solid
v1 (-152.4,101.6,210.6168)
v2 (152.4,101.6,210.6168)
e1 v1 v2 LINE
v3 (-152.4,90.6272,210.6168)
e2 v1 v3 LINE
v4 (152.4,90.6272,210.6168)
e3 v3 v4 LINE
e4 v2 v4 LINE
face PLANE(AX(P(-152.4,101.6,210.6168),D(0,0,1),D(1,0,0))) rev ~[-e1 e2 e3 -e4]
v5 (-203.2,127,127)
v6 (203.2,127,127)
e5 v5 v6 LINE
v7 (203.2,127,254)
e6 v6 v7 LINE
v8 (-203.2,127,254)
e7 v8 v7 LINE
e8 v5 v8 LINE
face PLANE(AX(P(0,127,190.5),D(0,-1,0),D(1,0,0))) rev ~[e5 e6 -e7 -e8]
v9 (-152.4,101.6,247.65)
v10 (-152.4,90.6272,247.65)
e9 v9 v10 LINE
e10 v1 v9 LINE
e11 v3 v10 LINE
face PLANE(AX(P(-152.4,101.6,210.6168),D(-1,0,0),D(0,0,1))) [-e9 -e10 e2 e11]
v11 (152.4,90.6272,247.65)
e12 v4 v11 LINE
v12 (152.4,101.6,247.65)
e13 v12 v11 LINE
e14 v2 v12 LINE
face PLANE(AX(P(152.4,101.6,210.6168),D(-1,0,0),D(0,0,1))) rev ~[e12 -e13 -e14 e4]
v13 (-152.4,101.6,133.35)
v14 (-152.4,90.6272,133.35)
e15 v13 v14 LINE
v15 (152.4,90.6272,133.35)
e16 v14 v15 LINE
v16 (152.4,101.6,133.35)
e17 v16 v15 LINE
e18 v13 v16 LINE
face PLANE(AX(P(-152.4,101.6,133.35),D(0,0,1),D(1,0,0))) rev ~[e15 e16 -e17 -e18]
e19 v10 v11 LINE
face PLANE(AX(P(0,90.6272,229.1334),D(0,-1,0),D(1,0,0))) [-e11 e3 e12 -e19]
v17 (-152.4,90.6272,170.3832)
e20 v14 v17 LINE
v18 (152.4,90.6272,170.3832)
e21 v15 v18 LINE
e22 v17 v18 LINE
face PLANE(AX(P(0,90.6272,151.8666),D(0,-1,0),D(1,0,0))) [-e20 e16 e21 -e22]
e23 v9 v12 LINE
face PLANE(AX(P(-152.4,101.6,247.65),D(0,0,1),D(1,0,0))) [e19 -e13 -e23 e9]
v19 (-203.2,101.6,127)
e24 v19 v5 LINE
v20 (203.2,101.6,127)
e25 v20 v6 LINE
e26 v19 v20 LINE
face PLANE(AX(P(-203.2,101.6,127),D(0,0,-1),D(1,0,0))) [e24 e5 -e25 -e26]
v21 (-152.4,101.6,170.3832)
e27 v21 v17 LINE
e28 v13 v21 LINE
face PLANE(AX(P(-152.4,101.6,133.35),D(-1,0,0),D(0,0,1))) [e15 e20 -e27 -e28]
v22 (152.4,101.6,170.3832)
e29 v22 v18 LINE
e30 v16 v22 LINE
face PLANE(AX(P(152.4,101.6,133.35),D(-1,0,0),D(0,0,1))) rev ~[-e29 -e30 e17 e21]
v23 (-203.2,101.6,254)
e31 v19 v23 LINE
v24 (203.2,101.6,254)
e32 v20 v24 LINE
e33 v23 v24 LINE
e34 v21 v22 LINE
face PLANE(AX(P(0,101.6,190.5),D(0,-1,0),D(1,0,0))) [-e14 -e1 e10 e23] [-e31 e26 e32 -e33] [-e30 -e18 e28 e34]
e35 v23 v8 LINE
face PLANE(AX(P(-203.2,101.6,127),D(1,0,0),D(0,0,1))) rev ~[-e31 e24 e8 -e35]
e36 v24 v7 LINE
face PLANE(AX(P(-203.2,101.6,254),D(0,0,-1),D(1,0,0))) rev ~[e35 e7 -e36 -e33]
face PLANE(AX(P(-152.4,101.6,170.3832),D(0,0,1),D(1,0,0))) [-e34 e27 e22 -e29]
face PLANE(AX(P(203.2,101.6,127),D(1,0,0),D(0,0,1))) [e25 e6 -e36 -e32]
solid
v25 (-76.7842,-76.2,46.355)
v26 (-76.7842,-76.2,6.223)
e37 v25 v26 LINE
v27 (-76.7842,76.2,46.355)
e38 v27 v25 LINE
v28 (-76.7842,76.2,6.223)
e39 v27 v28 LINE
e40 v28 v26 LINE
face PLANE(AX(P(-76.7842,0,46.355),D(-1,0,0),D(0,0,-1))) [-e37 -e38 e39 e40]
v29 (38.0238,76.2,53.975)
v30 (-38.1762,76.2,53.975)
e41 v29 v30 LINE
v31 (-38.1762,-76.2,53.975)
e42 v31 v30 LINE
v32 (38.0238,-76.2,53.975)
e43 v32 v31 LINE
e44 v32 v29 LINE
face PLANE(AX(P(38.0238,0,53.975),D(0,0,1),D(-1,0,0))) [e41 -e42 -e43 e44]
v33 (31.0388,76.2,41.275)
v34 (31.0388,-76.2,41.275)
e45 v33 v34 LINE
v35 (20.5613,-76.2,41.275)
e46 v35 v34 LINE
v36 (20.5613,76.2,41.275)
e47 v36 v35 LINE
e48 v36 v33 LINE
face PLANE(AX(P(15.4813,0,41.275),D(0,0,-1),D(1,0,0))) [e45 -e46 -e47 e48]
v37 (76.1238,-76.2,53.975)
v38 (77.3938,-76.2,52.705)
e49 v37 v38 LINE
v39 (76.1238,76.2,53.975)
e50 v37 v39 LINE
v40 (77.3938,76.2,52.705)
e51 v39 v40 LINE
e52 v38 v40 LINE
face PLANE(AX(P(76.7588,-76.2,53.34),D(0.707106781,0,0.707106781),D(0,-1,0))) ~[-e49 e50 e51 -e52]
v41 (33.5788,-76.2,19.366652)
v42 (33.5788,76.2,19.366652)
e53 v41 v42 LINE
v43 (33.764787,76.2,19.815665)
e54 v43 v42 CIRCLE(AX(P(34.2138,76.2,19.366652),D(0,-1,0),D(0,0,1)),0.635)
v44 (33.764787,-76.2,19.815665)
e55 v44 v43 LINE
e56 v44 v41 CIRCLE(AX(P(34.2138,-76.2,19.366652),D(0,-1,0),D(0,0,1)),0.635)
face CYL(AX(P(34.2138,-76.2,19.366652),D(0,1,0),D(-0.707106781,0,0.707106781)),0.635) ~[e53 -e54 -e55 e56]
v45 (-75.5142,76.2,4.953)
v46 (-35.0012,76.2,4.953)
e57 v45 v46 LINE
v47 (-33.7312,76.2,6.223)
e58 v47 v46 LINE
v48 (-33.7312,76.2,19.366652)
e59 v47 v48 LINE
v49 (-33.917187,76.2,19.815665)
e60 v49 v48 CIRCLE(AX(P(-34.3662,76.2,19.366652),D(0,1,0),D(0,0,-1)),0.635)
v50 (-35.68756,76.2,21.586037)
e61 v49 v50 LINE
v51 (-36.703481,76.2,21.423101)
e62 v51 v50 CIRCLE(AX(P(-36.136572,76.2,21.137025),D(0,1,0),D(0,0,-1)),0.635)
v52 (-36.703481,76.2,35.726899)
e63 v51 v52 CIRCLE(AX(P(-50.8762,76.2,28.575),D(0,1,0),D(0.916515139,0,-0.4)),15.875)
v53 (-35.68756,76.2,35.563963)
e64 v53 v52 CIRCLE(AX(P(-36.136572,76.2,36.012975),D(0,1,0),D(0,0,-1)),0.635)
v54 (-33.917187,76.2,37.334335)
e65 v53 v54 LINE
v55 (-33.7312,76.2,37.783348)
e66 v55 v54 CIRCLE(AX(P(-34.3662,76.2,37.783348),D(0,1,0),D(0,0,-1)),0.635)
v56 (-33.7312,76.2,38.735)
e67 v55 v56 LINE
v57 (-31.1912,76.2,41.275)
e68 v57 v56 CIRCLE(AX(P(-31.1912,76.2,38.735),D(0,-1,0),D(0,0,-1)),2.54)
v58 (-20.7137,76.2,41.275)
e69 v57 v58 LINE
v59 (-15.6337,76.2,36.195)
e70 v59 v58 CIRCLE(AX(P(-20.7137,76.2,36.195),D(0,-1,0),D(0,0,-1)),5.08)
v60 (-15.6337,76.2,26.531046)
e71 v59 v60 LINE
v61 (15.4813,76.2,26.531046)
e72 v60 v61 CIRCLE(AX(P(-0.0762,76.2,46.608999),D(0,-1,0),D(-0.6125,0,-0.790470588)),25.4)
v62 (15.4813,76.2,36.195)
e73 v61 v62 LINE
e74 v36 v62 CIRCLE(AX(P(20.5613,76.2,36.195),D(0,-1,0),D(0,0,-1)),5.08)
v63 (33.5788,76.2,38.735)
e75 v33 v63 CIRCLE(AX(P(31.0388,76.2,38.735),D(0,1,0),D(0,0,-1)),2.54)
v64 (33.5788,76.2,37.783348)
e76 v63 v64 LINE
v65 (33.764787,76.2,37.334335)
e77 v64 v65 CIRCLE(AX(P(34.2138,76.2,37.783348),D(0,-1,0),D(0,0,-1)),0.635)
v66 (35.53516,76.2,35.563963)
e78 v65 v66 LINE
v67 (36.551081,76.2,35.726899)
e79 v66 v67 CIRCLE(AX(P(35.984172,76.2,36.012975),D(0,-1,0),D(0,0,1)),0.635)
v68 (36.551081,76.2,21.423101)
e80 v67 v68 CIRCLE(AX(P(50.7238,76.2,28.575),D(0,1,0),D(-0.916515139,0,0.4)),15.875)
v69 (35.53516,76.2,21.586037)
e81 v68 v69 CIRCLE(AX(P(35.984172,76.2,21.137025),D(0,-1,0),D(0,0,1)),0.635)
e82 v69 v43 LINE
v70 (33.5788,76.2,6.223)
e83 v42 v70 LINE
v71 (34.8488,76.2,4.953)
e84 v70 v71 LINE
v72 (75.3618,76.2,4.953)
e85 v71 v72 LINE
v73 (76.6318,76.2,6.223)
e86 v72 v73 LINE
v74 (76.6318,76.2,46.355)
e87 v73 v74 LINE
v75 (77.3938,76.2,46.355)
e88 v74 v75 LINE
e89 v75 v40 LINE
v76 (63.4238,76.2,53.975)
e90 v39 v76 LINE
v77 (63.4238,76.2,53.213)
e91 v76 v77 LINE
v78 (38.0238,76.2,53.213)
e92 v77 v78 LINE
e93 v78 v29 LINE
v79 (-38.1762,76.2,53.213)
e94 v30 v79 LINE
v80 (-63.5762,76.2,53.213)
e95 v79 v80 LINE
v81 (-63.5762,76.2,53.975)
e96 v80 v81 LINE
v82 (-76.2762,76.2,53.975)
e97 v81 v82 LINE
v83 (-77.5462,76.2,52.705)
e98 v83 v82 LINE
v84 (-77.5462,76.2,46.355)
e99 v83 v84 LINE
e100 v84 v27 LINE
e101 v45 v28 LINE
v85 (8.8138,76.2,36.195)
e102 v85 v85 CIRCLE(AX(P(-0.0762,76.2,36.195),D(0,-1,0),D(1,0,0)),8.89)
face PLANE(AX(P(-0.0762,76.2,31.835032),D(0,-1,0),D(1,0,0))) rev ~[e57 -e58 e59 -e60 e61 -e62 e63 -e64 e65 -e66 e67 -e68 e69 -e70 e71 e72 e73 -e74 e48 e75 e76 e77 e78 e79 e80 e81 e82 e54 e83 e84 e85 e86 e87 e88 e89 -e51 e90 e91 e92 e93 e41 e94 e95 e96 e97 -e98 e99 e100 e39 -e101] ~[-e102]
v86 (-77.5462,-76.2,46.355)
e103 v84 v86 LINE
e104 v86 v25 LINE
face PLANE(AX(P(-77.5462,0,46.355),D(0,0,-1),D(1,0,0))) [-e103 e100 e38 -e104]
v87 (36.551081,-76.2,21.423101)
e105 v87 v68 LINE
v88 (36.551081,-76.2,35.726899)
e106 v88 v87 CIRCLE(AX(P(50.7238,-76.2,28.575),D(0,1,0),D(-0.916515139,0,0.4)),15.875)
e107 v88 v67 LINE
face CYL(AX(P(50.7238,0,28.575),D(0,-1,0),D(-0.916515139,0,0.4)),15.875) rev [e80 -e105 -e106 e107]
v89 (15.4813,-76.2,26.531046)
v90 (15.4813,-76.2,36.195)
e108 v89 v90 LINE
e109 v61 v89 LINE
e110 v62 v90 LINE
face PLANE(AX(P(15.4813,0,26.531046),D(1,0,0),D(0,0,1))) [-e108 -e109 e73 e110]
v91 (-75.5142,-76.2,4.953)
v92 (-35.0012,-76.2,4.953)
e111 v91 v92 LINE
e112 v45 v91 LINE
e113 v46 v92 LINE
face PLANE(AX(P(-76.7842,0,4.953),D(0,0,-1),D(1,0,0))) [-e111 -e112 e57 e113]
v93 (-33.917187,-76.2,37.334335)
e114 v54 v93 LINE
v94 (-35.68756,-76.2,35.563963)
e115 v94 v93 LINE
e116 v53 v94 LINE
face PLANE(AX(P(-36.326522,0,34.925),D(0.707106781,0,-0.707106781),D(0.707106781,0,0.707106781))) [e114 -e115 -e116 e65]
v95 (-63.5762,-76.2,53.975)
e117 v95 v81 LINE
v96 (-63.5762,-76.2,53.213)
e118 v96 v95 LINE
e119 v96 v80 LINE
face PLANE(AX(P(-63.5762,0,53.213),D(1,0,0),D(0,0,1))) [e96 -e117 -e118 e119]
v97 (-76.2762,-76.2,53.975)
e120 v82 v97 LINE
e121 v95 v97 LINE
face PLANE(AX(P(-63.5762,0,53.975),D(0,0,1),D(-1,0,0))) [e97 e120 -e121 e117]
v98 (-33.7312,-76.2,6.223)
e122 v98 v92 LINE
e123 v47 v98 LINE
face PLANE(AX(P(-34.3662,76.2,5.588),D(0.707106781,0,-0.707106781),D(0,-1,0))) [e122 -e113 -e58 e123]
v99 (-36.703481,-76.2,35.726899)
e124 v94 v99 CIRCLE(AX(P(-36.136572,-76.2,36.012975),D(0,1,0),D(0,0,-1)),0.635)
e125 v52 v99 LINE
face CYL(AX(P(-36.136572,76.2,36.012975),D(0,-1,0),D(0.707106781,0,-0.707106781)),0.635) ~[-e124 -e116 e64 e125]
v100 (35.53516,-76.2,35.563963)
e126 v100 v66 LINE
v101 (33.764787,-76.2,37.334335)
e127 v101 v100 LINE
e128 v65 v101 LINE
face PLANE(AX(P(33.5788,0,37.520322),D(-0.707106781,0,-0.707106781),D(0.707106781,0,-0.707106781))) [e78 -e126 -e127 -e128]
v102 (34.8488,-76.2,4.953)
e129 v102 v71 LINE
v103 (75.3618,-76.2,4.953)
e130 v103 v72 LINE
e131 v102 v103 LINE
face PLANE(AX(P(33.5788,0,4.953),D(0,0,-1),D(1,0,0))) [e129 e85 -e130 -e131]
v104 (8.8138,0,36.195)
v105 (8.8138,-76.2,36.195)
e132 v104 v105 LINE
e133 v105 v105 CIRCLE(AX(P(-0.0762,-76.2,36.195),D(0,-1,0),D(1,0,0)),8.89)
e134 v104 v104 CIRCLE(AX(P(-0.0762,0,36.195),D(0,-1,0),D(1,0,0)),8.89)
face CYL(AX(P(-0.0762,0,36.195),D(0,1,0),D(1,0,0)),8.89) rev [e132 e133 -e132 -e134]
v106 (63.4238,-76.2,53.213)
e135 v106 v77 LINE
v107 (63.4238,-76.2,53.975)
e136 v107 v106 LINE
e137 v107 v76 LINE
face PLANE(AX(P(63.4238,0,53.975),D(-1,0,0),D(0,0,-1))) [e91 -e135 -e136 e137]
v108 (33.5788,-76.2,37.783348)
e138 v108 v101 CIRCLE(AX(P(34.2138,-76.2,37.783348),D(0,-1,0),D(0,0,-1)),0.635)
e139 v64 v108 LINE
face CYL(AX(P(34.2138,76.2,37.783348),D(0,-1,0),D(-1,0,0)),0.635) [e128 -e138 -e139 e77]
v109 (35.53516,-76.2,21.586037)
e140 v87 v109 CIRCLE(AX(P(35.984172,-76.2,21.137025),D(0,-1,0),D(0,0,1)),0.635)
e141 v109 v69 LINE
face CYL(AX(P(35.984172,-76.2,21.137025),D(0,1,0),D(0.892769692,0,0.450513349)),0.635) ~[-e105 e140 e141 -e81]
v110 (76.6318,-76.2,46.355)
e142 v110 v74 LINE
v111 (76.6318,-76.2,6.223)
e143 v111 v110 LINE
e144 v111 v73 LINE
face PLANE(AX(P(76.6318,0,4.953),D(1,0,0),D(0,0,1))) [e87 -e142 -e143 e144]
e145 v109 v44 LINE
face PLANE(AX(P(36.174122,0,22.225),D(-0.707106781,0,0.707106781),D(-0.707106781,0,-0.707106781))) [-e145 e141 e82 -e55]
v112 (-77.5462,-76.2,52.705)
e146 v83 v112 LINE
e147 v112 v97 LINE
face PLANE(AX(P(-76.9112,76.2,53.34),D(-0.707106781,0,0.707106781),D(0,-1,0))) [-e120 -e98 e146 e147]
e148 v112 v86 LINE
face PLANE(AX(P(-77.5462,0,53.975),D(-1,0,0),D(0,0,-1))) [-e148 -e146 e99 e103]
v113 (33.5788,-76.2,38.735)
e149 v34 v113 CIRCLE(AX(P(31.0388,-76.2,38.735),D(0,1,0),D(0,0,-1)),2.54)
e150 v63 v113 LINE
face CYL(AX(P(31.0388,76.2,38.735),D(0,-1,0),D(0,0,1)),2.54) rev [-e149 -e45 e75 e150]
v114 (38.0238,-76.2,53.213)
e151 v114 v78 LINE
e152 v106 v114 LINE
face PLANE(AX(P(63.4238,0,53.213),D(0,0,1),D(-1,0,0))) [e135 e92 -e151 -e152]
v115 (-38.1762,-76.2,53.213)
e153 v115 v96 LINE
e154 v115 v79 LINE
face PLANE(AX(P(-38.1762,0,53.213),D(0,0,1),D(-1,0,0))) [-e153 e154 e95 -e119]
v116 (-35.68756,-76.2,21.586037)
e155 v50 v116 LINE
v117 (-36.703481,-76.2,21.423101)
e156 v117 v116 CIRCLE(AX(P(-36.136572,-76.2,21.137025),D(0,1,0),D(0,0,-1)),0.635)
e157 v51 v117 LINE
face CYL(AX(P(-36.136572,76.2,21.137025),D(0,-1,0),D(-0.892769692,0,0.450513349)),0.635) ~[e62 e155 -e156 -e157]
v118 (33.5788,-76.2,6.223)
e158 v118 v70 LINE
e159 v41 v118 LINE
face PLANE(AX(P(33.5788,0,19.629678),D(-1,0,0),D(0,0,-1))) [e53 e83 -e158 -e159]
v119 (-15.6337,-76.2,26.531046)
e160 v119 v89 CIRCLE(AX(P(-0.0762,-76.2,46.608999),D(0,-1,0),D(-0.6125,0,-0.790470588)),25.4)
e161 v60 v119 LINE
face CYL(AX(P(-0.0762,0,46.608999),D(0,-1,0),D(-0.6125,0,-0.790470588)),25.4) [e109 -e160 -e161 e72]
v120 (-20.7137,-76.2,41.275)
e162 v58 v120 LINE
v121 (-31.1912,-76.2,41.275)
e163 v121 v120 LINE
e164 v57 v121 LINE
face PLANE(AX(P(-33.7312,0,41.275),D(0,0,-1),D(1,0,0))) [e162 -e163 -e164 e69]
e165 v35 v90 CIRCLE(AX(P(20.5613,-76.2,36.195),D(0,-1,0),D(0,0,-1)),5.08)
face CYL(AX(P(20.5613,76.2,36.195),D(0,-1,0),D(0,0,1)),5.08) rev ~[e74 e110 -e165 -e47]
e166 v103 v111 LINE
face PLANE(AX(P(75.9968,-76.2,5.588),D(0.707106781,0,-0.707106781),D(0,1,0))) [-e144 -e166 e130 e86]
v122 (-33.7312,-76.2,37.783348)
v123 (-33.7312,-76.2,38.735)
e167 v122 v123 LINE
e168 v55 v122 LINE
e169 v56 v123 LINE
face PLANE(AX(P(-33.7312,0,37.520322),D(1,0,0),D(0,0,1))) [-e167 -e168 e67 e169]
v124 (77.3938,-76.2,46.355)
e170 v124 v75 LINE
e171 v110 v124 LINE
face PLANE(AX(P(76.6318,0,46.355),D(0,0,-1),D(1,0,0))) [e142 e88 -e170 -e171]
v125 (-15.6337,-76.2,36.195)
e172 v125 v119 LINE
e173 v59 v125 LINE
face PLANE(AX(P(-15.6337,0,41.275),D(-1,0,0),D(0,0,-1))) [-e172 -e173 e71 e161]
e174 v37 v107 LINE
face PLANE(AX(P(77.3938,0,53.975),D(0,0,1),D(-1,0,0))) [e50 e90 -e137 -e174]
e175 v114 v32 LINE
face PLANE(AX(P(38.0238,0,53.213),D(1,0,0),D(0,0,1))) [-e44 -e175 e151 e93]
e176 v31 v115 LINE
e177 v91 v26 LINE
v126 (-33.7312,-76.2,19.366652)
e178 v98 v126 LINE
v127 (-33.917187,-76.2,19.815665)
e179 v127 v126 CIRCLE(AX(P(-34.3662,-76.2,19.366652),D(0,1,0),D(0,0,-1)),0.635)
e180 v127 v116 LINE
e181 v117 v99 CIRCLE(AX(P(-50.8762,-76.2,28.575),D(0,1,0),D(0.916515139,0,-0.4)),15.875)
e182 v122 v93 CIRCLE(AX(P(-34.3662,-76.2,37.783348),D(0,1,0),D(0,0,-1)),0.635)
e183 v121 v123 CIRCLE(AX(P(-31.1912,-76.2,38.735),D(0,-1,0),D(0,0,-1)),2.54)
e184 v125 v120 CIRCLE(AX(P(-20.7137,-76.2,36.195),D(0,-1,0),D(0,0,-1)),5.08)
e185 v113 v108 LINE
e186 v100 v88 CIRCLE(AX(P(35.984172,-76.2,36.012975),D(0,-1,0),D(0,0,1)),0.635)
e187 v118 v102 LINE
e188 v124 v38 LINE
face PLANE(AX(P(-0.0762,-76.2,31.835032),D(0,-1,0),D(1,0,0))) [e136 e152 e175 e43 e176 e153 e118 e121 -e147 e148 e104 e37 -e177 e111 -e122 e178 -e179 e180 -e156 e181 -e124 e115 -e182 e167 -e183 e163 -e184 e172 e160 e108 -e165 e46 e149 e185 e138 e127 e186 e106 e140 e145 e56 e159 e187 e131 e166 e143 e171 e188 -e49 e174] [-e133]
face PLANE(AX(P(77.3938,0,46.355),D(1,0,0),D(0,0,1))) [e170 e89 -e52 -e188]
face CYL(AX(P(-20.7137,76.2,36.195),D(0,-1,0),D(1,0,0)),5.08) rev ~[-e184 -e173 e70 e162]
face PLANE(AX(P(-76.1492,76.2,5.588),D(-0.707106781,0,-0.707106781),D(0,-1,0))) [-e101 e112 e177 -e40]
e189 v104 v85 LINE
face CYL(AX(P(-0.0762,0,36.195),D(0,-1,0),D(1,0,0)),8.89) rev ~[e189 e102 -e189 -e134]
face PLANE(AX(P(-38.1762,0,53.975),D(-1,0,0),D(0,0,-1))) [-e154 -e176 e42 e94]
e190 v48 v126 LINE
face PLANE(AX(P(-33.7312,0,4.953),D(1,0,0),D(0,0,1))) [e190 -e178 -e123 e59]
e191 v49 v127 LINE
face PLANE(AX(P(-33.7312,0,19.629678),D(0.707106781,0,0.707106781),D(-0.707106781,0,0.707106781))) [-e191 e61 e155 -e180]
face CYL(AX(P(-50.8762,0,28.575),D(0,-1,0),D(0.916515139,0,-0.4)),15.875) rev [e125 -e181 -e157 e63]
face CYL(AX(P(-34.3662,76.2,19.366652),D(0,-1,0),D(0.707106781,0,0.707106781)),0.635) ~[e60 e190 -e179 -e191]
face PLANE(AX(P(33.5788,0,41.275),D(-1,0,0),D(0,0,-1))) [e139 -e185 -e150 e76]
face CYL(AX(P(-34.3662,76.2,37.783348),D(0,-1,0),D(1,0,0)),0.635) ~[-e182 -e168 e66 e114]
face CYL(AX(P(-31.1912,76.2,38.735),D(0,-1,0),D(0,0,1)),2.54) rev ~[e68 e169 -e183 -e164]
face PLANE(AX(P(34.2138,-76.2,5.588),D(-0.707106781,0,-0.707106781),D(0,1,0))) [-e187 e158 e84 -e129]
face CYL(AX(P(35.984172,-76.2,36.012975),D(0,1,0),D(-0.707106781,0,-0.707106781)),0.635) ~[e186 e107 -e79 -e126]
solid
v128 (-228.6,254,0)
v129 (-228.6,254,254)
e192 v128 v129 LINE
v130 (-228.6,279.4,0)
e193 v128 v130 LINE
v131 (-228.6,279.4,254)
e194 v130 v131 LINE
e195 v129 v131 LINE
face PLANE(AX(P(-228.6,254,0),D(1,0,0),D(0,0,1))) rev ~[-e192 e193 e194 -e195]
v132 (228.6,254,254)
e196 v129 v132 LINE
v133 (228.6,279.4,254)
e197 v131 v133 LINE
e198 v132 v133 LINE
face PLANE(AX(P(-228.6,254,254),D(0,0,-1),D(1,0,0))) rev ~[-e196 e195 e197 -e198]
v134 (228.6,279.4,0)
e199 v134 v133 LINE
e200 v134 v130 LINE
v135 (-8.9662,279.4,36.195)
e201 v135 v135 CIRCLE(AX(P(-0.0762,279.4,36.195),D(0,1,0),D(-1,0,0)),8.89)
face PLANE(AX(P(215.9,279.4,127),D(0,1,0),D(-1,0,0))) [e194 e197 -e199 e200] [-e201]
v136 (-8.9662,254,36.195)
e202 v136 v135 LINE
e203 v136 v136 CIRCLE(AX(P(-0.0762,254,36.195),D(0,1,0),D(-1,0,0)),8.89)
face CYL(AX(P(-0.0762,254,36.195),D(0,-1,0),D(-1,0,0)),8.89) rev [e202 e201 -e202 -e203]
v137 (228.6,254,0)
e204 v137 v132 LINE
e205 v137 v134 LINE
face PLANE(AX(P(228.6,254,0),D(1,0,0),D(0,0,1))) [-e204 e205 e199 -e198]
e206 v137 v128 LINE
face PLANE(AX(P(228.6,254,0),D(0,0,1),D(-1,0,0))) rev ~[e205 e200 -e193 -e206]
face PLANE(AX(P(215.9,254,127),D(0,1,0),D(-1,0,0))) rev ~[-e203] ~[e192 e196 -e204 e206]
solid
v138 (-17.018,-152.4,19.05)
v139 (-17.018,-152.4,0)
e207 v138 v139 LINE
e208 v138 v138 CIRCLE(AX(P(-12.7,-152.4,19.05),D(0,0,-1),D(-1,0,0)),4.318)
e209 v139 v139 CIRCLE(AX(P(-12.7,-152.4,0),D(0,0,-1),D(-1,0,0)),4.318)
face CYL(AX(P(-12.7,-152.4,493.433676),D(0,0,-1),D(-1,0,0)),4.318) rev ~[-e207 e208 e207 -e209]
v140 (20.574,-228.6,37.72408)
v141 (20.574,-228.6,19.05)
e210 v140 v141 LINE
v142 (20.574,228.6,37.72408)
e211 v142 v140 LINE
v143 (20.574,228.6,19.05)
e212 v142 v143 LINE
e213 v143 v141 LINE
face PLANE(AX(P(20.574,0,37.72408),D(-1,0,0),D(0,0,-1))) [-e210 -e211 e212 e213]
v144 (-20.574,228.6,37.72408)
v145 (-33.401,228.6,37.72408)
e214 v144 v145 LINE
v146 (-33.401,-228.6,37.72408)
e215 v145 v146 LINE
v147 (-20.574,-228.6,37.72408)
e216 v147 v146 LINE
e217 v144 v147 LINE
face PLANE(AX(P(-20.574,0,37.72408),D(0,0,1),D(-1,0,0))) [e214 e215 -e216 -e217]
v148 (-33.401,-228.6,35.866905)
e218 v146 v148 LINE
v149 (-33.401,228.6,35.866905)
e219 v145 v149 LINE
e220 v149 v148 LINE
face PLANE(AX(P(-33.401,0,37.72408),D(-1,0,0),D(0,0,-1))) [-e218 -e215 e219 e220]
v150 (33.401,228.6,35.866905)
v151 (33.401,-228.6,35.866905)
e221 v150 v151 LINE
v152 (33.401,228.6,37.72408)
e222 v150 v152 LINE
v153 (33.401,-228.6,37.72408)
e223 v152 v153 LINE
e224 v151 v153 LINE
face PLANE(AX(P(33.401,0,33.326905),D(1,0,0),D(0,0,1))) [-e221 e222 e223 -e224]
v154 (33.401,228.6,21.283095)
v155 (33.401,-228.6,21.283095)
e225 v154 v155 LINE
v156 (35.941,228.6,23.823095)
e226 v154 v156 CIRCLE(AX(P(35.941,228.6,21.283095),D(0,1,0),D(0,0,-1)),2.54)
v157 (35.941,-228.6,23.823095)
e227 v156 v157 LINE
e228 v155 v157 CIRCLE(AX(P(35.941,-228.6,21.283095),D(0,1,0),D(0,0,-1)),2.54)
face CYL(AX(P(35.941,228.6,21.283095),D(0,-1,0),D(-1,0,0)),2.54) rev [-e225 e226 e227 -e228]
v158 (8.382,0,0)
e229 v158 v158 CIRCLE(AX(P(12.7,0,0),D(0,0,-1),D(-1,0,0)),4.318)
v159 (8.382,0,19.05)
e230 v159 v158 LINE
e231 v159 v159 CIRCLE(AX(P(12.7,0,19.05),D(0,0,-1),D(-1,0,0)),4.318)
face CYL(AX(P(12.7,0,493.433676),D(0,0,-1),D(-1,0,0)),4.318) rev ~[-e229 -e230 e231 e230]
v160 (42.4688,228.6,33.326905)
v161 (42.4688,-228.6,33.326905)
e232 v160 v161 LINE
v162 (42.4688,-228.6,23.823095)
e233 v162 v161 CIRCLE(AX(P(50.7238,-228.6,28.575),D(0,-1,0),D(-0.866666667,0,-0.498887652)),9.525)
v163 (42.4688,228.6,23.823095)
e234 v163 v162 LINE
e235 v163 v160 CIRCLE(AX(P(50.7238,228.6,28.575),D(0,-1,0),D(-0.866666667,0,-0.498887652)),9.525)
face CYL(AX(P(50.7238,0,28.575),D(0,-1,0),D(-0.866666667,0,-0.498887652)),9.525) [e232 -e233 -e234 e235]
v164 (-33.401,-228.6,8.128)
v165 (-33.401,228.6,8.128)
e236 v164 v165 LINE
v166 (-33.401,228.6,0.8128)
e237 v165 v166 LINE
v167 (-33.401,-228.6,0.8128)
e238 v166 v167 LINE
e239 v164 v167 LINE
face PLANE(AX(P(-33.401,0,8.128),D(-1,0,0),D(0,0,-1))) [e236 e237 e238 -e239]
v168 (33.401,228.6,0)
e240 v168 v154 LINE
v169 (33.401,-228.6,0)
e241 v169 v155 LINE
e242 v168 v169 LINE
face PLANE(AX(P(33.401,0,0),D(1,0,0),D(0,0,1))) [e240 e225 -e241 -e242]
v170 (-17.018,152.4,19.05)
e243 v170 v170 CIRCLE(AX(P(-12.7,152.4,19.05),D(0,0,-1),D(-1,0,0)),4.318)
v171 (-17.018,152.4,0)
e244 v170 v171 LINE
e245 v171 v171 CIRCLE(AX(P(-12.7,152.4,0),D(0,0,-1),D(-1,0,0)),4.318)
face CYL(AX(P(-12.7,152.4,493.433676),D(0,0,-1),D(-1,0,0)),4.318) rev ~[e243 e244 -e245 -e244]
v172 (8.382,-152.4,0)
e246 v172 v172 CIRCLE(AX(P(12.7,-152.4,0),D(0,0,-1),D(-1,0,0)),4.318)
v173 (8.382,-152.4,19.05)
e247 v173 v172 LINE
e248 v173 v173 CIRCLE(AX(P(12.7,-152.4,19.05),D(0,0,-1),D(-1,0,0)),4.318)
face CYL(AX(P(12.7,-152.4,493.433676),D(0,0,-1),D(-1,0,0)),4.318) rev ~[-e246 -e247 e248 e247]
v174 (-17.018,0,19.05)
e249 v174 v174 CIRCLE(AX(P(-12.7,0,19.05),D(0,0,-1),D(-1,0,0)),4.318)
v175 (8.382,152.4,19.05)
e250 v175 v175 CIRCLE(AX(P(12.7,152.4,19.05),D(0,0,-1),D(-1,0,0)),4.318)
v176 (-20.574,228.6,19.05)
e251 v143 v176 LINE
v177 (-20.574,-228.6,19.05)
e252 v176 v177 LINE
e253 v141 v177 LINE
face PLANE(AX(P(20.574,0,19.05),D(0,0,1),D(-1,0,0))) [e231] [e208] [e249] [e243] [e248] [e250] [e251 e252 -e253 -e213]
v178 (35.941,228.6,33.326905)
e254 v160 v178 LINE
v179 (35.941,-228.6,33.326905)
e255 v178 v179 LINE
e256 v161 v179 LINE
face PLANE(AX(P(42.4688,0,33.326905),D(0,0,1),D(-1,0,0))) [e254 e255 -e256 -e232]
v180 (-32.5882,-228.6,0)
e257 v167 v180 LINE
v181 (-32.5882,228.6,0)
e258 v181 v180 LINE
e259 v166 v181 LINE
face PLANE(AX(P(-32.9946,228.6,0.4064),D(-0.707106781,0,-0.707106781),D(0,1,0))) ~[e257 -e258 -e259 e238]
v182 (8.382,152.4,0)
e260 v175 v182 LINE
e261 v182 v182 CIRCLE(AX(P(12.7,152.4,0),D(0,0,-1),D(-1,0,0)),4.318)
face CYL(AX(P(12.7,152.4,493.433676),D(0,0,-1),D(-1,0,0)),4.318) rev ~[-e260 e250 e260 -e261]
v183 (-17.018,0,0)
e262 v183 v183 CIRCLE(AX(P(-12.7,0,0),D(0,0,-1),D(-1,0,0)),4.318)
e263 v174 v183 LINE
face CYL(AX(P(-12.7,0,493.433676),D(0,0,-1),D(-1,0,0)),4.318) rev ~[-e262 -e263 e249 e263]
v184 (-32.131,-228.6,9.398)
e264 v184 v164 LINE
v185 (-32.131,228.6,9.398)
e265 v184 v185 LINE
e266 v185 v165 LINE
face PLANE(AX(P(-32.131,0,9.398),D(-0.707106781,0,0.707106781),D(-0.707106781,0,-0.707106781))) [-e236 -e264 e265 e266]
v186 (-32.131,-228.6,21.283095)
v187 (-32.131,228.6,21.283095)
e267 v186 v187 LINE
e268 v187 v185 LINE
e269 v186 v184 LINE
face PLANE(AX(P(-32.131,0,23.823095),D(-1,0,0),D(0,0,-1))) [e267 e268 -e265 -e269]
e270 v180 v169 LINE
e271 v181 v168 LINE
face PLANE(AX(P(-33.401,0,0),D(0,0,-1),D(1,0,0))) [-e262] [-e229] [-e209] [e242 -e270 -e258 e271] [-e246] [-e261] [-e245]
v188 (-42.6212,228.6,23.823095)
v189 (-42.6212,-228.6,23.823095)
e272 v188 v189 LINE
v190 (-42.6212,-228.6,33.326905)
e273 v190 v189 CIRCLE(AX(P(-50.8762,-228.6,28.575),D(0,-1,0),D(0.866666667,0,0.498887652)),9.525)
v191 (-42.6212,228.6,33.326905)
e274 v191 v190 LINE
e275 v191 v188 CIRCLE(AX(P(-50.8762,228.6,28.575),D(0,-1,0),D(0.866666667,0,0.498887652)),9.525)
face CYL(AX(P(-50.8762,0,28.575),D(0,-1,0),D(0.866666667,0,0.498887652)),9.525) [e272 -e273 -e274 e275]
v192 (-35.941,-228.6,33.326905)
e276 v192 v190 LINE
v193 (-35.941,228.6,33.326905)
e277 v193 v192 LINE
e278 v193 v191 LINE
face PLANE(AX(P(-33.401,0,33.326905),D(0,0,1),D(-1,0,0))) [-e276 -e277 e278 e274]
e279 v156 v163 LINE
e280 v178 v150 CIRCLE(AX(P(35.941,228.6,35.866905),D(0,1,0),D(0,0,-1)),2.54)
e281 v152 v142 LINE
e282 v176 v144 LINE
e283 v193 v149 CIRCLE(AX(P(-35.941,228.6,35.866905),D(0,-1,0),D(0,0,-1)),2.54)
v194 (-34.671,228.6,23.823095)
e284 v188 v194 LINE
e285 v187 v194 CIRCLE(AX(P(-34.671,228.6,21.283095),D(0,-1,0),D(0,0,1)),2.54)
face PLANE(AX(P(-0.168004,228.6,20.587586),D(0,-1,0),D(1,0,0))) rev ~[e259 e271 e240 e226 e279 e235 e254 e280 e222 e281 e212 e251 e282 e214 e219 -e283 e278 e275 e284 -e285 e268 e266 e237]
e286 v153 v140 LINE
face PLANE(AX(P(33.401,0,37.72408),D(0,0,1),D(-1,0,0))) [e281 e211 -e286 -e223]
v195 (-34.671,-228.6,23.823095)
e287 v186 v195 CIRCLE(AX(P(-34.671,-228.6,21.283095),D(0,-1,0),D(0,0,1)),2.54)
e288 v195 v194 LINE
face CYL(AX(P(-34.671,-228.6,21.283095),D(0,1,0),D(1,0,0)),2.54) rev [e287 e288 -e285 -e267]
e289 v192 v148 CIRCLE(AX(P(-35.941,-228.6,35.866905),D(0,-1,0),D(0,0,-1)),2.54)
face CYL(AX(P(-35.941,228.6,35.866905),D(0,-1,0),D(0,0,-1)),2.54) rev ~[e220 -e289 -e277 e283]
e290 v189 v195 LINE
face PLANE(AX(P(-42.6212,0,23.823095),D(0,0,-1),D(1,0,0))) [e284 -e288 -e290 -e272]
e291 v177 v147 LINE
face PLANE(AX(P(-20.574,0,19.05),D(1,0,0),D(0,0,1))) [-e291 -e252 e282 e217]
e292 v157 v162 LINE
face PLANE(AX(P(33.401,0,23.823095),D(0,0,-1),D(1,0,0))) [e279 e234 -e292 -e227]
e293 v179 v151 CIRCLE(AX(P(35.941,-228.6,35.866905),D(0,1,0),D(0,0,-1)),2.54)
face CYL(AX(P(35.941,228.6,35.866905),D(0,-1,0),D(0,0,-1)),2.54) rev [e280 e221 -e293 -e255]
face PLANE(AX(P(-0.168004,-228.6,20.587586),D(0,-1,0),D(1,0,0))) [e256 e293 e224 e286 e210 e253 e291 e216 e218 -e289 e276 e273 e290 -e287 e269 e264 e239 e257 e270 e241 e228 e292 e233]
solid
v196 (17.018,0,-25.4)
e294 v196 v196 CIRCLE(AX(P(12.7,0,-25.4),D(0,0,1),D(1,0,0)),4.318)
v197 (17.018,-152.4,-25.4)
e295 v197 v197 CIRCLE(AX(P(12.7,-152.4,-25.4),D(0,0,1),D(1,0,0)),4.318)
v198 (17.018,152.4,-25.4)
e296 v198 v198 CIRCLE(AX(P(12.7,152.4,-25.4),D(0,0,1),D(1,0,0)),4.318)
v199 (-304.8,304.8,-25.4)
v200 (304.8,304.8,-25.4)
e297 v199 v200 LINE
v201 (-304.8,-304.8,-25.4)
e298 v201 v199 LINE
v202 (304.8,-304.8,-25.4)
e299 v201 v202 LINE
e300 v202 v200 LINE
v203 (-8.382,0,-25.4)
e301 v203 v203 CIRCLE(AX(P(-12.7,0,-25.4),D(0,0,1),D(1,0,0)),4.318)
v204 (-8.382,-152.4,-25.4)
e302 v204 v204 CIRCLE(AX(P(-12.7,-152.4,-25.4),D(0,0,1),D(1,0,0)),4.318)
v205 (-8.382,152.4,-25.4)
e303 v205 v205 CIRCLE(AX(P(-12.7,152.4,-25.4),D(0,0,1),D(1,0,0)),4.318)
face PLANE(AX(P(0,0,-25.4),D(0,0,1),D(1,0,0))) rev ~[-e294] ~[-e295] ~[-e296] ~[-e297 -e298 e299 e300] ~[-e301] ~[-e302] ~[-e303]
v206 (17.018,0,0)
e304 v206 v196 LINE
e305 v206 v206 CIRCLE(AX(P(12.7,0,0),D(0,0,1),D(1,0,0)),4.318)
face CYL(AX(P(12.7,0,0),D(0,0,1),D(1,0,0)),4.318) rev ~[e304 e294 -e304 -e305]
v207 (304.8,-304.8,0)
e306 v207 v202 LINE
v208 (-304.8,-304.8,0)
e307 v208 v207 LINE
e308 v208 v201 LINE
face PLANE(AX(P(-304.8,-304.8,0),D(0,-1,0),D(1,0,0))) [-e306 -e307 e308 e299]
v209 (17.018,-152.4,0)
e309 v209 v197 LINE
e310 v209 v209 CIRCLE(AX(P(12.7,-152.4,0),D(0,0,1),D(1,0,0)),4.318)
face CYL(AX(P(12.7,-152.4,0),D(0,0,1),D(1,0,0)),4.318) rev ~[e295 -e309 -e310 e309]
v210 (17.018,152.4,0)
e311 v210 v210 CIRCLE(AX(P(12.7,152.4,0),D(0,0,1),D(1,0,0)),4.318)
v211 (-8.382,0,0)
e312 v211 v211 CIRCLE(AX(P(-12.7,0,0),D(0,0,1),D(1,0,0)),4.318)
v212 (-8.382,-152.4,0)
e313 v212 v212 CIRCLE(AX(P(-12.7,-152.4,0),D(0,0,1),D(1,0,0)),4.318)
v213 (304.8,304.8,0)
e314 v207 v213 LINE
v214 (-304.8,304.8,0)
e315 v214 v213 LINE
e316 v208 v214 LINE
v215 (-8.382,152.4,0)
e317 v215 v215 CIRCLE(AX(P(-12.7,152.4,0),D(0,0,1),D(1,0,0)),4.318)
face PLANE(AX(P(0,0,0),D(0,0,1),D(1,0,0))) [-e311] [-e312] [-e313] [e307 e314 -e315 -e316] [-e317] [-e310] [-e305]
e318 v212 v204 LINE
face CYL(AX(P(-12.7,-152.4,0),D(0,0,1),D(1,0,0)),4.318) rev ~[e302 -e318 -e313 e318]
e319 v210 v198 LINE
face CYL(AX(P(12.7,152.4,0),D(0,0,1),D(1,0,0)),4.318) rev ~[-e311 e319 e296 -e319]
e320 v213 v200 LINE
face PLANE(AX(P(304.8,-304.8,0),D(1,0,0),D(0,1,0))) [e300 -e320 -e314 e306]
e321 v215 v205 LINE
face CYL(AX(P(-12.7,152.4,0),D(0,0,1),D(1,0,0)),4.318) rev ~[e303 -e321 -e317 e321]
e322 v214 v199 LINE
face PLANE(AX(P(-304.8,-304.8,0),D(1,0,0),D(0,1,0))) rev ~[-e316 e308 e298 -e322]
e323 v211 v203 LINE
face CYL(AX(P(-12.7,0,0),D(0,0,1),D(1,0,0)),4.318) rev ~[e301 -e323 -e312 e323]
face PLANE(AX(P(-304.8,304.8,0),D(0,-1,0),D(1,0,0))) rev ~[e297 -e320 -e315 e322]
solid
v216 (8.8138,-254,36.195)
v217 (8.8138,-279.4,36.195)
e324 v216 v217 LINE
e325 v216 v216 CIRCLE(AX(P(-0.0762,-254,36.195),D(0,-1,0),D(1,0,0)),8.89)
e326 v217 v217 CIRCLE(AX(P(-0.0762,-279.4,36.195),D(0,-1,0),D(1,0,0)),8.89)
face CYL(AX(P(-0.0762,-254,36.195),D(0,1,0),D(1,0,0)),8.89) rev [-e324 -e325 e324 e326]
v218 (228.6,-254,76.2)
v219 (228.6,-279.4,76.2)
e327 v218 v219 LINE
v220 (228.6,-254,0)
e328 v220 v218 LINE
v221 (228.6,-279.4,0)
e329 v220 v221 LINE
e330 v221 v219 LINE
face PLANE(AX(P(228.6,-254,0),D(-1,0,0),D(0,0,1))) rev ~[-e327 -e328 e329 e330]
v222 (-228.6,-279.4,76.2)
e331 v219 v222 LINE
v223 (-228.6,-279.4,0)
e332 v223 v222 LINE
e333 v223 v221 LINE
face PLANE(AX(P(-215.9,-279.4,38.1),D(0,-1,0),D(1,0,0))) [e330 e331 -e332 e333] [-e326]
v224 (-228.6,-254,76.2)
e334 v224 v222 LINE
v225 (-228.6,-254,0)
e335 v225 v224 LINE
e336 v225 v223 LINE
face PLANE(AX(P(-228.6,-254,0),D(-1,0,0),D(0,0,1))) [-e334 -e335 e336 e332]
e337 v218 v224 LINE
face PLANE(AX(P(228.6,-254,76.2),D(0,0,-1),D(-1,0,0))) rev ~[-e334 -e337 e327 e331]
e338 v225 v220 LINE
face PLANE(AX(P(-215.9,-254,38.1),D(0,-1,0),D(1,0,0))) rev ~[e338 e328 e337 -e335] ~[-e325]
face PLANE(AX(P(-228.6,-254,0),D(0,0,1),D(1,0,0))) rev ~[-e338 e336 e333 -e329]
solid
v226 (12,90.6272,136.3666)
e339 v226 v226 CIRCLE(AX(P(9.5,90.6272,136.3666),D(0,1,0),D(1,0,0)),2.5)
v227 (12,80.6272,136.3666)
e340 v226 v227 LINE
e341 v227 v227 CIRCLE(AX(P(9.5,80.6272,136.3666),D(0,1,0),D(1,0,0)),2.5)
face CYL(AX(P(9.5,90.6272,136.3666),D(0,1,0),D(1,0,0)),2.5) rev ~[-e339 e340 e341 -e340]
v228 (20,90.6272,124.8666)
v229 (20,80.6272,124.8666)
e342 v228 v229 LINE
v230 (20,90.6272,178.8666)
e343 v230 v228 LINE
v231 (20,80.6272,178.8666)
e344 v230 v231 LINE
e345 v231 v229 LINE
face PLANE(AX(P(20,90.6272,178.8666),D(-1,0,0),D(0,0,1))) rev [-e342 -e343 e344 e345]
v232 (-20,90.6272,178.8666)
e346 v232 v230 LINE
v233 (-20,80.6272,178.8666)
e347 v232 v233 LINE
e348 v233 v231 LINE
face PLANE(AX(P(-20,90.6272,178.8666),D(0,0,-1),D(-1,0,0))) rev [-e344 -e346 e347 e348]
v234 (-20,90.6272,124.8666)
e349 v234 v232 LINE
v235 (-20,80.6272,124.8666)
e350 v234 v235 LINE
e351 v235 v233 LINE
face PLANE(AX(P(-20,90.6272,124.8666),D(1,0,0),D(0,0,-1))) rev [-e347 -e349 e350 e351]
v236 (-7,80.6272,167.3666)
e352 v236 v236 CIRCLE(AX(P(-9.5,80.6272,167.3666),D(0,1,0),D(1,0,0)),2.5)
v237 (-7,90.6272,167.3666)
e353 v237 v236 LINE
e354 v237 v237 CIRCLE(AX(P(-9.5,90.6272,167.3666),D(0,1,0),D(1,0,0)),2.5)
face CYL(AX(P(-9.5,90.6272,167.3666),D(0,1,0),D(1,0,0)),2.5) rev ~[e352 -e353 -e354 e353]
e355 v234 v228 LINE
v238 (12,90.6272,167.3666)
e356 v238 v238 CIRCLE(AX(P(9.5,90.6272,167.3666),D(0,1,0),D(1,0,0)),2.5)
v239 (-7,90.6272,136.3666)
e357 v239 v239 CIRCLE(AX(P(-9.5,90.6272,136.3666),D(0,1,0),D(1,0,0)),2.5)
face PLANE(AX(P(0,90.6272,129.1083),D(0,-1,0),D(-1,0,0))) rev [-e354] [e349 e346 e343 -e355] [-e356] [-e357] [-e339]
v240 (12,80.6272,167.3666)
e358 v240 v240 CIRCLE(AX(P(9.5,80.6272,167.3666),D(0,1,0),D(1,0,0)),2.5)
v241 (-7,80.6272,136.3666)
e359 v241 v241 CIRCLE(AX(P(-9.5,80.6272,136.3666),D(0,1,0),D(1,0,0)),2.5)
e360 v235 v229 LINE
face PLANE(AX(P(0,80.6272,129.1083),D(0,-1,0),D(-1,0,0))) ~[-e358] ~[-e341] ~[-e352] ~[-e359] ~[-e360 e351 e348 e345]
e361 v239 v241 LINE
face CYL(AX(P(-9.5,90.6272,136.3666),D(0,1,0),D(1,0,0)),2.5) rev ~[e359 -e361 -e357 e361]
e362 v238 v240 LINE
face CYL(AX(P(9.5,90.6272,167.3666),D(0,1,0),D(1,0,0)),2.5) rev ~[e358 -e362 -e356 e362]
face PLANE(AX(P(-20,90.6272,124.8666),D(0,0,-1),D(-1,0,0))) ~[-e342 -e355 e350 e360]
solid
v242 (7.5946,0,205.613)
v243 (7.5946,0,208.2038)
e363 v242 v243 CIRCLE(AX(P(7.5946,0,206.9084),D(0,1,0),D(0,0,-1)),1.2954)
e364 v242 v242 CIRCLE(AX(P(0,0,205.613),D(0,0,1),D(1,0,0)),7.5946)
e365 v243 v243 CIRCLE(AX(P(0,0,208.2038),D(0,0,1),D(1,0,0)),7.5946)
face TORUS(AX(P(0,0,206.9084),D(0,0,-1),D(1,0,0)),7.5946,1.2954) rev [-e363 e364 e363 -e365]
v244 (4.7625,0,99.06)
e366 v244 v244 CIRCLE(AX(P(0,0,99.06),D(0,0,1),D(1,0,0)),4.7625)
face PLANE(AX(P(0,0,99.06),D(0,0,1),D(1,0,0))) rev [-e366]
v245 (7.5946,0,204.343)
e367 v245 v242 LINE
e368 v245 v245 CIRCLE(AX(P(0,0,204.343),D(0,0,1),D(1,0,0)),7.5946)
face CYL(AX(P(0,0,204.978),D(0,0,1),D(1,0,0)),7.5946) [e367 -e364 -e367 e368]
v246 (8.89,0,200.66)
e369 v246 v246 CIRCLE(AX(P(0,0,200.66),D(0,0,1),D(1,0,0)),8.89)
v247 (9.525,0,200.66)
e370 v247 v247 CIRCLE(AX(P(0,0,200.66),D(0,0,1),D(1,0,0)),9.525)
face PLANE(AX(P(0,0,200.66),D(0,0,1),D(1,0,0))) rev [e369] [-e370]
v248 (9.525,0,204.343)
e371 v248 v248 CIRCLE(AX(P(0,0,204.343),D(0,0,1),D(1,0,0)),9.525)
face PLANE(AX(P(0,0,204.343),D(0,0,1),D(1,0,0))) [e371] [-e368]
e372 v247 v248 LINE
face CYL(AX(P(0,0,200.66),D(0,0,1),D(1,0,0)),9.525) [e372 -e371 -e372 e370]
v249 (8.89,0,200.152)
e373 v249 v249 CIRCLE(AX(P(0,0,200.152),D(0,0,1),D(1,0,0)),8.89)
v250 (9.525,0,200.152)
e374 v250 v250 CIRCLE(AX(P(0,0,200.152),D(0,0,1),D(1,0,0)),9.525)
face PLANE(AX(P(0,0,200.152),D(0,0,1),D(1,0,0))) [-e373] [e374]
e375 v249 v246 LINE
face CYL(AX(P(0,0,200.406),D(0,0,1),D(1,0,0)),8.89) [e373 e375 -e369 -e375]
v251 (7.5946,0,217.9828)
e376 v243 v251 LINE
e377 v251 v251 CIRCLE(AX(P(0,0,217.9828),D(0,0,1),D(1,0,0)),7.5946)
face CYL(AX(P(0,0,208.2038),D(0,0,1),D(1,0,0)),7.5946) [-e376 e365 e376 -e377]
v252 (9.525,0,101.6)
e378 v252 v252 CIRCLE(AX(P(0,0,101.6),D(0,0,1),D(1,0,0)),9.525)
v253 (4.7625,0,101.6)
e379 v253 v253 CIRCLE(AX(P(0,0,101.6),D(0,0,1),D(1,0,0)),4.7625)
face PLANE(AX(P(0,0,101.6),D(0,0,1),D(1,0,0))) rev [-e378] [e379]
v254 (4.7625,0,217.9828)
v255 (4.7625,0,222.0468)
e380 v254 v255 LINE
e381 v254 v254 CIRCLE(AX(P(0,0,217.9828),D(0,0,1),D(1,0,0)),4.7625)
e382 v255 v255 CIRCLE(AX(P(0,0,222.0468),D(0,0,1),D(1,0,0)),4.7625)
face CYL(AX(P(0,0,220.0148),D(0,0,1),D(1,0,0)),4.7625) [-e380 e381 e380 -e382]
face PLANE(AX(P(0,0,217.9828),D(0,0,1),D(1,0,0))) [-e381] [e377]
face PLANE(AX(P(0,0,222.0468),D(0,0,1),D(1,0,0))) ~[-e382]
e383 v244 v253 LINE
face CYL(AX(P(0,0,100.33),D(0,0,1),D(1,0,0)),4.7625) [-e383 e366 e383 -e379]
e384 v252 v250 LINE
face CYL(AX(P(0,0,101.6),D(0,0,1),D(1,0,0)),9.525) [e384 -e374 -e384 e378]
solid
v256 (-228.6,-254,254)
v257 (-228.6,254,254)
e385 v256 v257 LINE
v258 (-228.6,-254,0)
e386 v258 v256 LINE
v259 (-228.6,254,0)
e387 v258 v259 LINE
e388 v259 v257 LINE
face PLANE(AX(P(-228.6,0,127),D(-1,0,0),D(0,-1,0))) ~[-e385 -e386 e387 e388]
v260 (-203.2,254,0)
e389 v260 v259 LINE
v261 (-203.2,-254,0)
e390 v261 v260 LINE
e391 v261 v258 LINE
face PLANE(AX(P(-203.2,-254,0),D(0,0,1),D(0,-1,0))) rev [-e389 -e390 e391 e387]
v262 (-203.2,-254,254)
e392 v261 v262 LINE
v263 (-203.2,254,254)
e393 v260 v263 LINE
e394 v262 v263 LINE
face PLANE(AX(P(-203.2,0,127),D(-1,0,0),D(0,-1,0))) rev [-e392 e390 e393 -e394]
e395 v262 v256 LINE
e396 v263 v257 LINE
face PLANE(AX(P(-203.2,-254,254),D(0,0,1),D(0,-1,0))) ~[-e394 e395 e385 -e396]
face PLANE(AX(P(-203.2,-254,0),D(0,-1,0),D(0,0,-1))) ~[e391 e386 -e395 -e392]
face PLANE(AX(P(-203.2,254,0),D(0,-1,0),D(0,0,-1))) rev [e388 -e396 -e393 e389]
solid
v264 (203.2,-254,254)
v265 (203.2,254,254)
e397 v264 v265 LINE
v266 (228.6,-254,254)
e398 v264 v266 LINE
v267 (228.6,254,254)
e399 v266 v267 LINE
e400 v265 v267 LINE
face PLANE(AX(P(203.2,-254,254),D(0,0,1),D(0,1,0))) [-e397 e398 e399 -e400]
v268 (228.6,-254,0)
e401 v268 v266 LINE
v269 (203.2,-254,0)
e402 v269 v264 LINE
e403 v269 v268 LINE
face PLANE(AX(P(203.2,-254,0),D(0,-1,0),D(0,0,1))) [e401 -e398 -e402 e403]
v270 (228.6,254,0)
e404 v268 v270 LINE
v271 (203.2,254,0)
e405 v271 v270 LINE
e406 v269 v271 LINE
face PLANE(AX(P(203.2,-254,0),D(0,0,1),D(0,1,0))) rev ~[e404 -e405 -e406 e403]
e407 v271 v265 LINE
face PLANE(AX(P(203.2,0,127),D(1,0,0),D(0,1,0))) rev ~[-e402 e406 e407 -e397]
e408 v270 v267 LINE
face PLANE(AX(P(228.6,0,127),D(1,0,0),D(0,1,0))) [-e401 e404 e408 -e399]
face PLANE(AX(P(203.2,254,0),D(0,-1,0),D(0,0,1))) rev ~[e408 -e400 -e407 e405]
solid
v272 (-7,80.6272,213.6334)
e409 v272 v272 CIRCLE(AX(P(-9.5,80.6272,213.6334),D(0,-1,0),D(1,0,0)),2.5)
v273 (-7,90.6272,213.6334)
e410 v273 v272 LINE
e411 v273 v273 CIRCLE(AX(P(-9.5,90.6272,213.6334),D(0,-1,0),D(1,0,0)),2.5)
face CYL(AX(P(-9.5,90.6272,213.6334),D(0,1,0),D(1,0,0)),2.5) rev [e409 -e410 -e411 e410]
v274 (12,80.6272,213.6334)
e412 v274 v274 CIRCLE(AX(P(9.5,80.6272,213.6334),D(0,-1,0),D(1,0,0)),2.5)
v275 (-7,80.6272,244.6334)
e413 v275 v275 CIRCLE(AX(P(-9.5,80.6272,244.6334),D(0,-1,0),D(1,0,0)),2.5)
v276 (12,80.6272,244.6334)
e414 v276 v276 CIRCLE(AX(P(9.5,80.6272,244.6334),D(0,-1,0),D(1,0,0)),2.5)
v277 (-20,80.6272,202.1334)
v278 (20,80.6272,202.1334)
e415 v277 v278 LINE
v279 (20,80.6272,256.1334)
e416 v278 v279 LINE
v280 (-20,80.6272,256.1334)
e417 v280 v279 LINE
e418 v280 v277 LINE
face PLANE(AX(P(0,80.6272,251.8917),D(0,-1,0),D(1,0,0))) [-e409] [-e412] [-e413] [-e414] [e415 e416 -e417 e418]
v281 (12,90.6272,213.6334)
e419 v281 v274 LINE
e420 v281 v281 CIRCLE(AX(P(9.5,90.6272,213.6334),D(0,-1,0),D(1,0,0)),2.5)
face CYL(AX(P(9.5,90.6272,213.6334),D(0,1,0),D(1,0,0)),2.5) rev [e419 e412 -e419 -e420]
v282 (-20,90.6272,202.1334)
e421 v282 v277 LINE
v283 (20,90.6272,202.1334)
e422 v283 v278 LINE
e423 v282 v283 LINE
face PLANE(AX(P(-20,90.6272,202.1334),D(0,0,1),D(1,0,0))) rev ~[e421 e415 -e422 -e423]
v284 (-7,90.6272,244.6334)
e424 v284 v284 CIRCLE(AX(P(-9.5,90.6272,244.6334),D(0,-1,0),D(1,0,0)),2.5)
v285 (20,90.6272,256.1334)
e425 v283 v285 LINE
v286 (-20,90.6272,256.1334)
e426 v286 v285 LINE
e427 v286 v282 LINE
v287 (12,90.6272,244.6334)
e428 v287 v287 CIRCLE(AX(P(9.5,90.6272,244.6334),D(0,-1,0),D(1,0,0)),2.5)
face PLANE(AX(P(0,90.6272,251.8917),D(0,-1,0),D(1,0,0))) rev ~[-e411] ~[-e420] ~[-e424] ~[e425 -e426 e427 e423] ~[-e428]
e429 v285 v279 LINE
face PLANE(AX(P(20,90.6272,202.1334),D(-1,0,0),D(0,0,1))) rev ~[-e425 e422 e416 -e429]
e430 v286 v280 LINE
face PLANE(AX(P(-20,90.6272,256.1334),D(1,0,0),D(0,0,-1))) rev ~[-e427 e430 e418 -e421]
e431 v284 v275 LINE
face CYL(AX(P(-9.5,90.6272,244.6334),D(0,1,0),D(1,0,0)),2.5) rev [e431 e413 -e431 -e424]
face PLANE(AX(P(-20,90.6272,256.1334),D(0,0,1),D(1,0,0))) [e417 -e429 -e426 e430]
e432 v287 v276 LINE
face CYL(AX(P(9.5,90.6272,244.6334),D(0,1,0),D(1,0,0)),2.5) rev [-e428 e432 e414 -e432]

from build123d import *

# Parameters (mm, degrees)
F1_DEPTH      = 228.6
F1_DEPTH_BACK = 228.6
F2_SIZE       = 0.8128
F3_R          = 2.54
F5_D          = 8.636
F6_R          = 8.89
F7_DEPTH      = 76.2
F7_DEPTH_BACK = 76.2
F8_R          = 5.08
F9_R          = 2.54
F10_R         = 0.635
F11_SIZE      = 1.27
F12_W         = 609.6
F12_H         = 609.6
F12_R         = 4.318
F13_DEPTH     = 25.4
F15_W         = 508
F15_H         = 254
F16_DEPTH     = 25.4
F18_W         = 25.4
F18_H         = 76.2
F18_W_2       = 431.8
F18_R         = 8.89
F19_DEPTH     = 25.4
F20_W         = 25.4
F20_H         = 254
F20_W_2       = 431.8
F20_R         = 8.89
F21_DEPTH     = 25.4
F22_W         = 4.7625
F22_H         = 2.54
F22_W_2       = 8.89
F22_H_2       = 0.508
F22_W_3       = 7.5946
F22_H_3       = 1.27
F22_H_4       = 4.064
F25_W         = 406.4
F25_H         = 127
F25_W_2       = 304.8
F25_H_2       = 37.0332
F26_DEPTH     = 25.4
F27_DEPTH     = 10.9728
F28_W         = 40
F28_H         = 8.4834
F28_H_2       = 37.0332
F28_R         = 2.5
F29_DEPTH     = 10


with BuildPart() as f1:
    # F0 (on Front) → F1 (new body, two sides)
    with BuildSketch(Plane.XZ) as f1_sk:
        with BuildLine():
            Line((-33.401, 8.128), (-33.401, 0))
            Line((-33.401, 0), (33.401, 0))
            Line((33.401, 0), (33.401, 23.8230951188))
            Line((33.401, 23.8230951188), (42.4688, 23.8230951188))
            ThreePointArc((42.4688, 23.8230951188), (60.2488, 28.575), (42.4688, 33.3269048812))
            Line((42.4688, 33.3269048812), (33.401, 33.3269048812))
            Line((33.401, 33.3269048812), (33.401, 37.72408))
            Line((33.401, 37.72408), (20.574, 37.72408))
            Line((20.574, 37.72408), (20.574, 19.05))
            Line((20.574, 19.05), (-20.574, 19.05))
            Line((-20.574, 19.05), (-20.574, 37.72408))
            Line((-20.574, 37.72408), (-33.401, 37.72408))
            Line((-33.401, 37.72408), (-33.401, 33.3269048812))
            Line((-33.401, 33.3269048812), (-42.6212, 33.3269048812))
            ThreePointArc((-42.6212, 33.3269048812), (-60.4012, 28.575), (-42.6212, 23.8230951188))
            Line((-42.6212, 23.8230951188), (-32.131, 23.8230951188))
            Line((-32.131, 23.8230951188), (-32.131, 9.398))
            Line((-32.131, 9.398), (-33.401, 8.128))
        make_face()
    extrude(amount=F1_DEPTH)
    extrude(f1_sk.sketch, amount=-F1_DEPTH_BACK)

    # F2
    f2_edges = [f1.edges().sort_by_distance(p)[0] for p in [
        (-33.401, 0, 0),
    ]]
    chamfer(f2_edges, length=F2_SIZE)

    # F3
    f3_edges = [f1.edges().sort_by_distance(p)[0] for p in [
        (-32.131, 0, 23.823095),
        (-33.401, 0, 33.326905),
        (33.401, 0, 33.326905),
        (33.401, 0, 23.823095),
    ]]
    fillet(f3_edges, radius=F3_R)

    # F5 (through all)
    with Locations(Plane.XY.offset(19.05)):
        with Locations((-12.7, -152.4), (12.7, -152.4), (-12.7, 0), (12.7, 0), (-12.7, 152.4), (12.7, 152.4)):
            Hole(F5_D / 2)


with BuildPart() as f7:
    # F6 (on Front) → F7 (new body, two sides)
    with BuildSketch(Plane.XZ) as f7_sk:
        with BuildLine():
            Line((-63.5762, 53.975), (-77.5462, 53.975))
            Line((-77.5462, 53.975), (-77.5462, 46.355))
            Line((-77.5462, 46.355), (-76.7842, 46.355))
            Line((-76.7842, 46.355), (-76.7842, 4.953))
            Line((-76.7842, 4.953), (-33.7312, 4.953))
            Line((-33.7312, 4.953), (-33.7312, 19.6296778315))
            Line((-33.7312, 19.6296778315), (-36.3265221685, 22.225))
            ThreePointArc((-36.3265221685, 22.225), (-66.7512, 28.575), (-36.3265221685, 34.925))
            Line((-36.3265221685, 34.925), (-33.7312, 37.5203221685))
            Line((-33.7312, 37.5203221685), (-33.7312, 41.275))
            Line((-33.7312, 41.275), (-15.6337, 41.275))
            Line((-15.6337, 41.275), (-15.6337, 26.5310464443))
            ThreePointArc((-15.6337, 26.5310464443), (-0.0762, 21.2089993715), (15.4813, 26.5310464443))
            Line((15.4813, 26.5310464443), (15.4813, 41.275))
            Line((15.4813, 41.275), (33.5788, 41.275))
            Line((33.5788, 41.275), (33.5788, 37.5203221685))
            Line((33.5788, 37.5203221685), (36.1741221685, 34.925))
            ThreePointArc((36.1741221685, 34.925), (66.5988, 28.575), (36.1741221685, 22.225))
            Line((36.1741221685, 22.225), (33.5788, 19.6296778315))
            Line((33.5788, 19.6296778315), (33.5788, 4.953))
            Line((33.5788, 4.953), (76.6318, 4.953))
            Line((76.6318, 4.953), (76.6318, 46.355))
            Line((76.6318, 46.355), (77.3938, 46.355))
            Line((77.3938, 46.355), (77.3938, 53.975))
            Line((77.3938, 53.975), (63.4238, 53.975))
            Line((63.4238, 53.975), (63.4238, 53.213))
            Line((63.4238, 53.213), (38.0238, 53.213))
            Line((38.0238, 53.213), (38.0238, 53.975))
            Line((38.0238, 53.975), (-38.1762, 53.975))
            Line((-38.1762, 53.975), (-38.1762, 53.213))
            Line((-38.1762, 53.213), (-63.5762, 53.213))
            Line((-63.5762, 53.213), (-63.5762, 53.975))
        make_face()
        with Locations((-0.0762, 36.195)):
            Circle(F6_R, mode=Mode.SUBTRACT)
    extrude(amount=F7_DEPTH)
    extrude(f7_sk.sketch, amount=-F7_DEPTH_BACK)

    # F8
    f8_edges = [f7.edges().sort_by_distance(p)[0] for p in [
        (-15.6337, 0, 41.275),
        (15.4813, 0, 41.275),
    ]]
    fillet(f8_edges, radius=F8_R)

    # F9
    f9_edges = [f7.edges().sort_by_distance(p)[0] for p in [
        (-33.7312, 0, 41.275),
        (33.5788, 0, 41.275),
    ]]
    fillet(f9_edges, radius=F9_R)

    # F10
    f10_edges = [f7.edges().sort_by_distance(p)[0] for p in [
        (-36.326522, 0, 34.925),
        (-36.326522, 0, 22.225),
        (36.174122, 0, 34.925),
        (36.174122, 0, 22.225),
        (-33.7312, 0, 37.520322),
        (-33.7312, 0, 19.629678),
        (33.5788, 0, 37.520322),
        (33.5788, 0, 19.629678),
    ]]
    fillet(f10_edges, radius=F10_R)

    # F11
    f11_edges = [f7.edges().sort_by_distance(p)[0] for p in [
        (-76.7842, 0, 4.953),
        (-33.7312, 0, 4.953),
        (33.5788, 0, 4.953),
        (76.6318, 0, 4.953),
        (-77.5462, 0, 53.975),
        (77.3938, 0, 53.975),
    ]]
    chamfer(f11_edges, length=F11_SIZE)


with BuildPart() as f13:
    # F12 (on Top) → F13 (new body)
    with BuildSketch(Plane.XY):
        Rectangle(F12_W, F12_H)
        with Locations((-12.7, -152.4)):
            Circle(F12_R, mode=Mode.SUBTRACT)
        with Locations((12.7, -152.4)):
            Circle(F12_R, mode=Mode.SUBTRACT)
        with Locations((-12.7, 0)):
            Circle(F12_R, mode=Mode.SUBTRACT)
        with Locations((-12.7, 152.4)):
            Circle(F12_R, mode=Mode.SUBTRACT)
        with Locations((12.7, 0)):
            Circle(F12_R, mode=Mode.SUBTRACT)
        with Locations((12.7, 152.4)):
            Circle(F12_R, mode=Mode.SUBTRACT)
    extrude(amount=-F13_DEPTH)


with BuildPart() as f16:
    # F15 (on offset) → F16 (new body)
    with BuildSketch(Plane.YZ.offset(203.2)):
        with Locations((0, 127)):
            Rectangle(F15_W, F15_H)
    extrude(amount=F16_DEPTH)


with BuildPart() as f17_1:
    # F17: instance of F16
    add(f16.part.mirror(Plane.YZ))


with BuildPart() as f19:
    # F18 (on face) → F19 (new body)
    with BuildSketch(Plane.XZ.offset(254)):
        with Locations((-215.9, 38.1)):
            Rectangle(F18_W, F18_H)
        with Locations((12.7, 38.1)):
            Rectangle(F18_W_2, F18_H)
        with Locations((-0.0762, 36.195)):
            Circle(F18_R, mode=Mode.SUBTRACT)
    extrude(amount=F19_DEPTH)


with BuildPart() as f21:
    # F20 (on face) → F21 (new body)
    with BuildSketch(Plane(origin=(0, 254, 0), x_dir=(-1, 0, 0), z_dir=(0, 1, 0))):
        with Locations((-215.9, 127)):
            Rectangle(F20_W, F20_H)
        with Locations((12.7, 127)):
            Rectangle(F20_W_2, F20_H)
        with Locations((0.0762, 36.195)):
            Circle(F20_R, mode=Mode.SUBTRACT)
    extrude(amount=F21_DEPTH)


with BuildPart() as f23:
    # F22 (on Front) → F23 (revolve)
    with BuildSketch(Plane.XZ):
        with Locations((2.38125, 100.33)):
            Rectangle(F22_W, F22_H)
        Polygon((4.7625, 101.6), (9.525, 101.6), (9.525, 200.152), (8.89, 200.152), (0, 200.152), (0, 101.6), align=None)
        with Locations((4.445, 200.406)):
            Rectangle(F22_W_2, F22_H_2)
        Polygon((0, 200.66), (8.89, 200.66), (9.525, 200.66), (9.525, 204.343), (7.5946, 204.343), (0, 204.343), align=None)
        with Locations((3.7973, 204.978)):
            Rectangle(F22_W_3, F22_H_3)
        with BuildLine():
            Line((0, 208.2038), (0, 205.613))
            Line((0, 205.613), (7.5946, 205.613))
            ThreePointArc((7.5946, 205.613), (6.2992, 206.9084), (7.5946, 208.2038))
            Line((7.5946, 208.2038), (0, 208.2038))
        make_face()
        Polygon((0, 217.9828), (0, 208.2038), (7.5946, 208.2038), (7.5946, 217.9828), (4.7625, 217.9828), align=None)
        with Locations((2.38125, 220.0148)):
            Rectangle(F22_W, F22_H_4)
    revolve(axis=Axis((0, 0, 160.5534), (0, 0, 1)))


with BuildPart() as f26:
    # F25 (on offset) → F26 (new body)
    with BuildSketch(Plane.XZ.offset(-101.6)):
        with Locations((0, 190.5)):
            Rectangle(F25_W, F25_H)
        with Locations((0, 151.8666)):
            Rectangle(F25_W_2, F25_H_2, mode=Mode.SUBTRACT)
        with Locations((0, 229.1334)):
            Rectangle(F25_W_2, F25_H_2, mode=Mode.SUBTRACT)
        with Locations((0, 229.1334)):
            Rectangle(F25_W_2, F25_H_2)
        with Locations((0, 151.8666)):
            Rectangle(F25_W_2, F25_H_2)
    extrude(amount=-F26_DEPTH)

    # F25 (on offset) → F27 (join)
    with BuildSketch(Plane.XZ.offset(-101.6)):
        with Locations((0, 229.1334)):
            Rectangle(F25_W_2, F25_H_2)
        with Locations((0, 151.8666)):
            Rectangle(F25_W_2, F25_H_2)
    extrude(amount=F27_DEPTH)


with BuildPart() as f29:
    # F28 (on face) → F29 (new body)
    with BuildSketch(Plane.XZ.offset(-90.6272)):
        with Locations((0, 251.8917)):
            Rectangle(F28_W, F28_H)
        with Locations((0, 229.1334)):
            Rectangle(F28_W, F28_H_2)
        with Locations((-9.5, 213.6334)):
            Circle(F28_R, mode=Mode.SUBTRACT)
        with Locations((9.5, 213.6334)):
            Circle(F28_R, mode=Mode.SUBTRACT)
        with Locations((-9.5, 244.6334)):
            Circle(F28_R, mode=Mode.SUBTRACT)
        with Locations((9.5, 244.6334)):
            Circle(F28_R, mode=Mode.SUBTRACT)
        with Locations((0, 206.3751)):
            Rectangle(F28_W, F28_H)
    extrude(amount=F29_DEPTH)


with BuildPart() as f31_1:
    # F31: instance of F29
    add(f29.part.mirror(Plane(origin=(0, 96.1136, 190.5), x_dir=(1, 0, 0), z_dir=(0, 0, -1))))


solid = Compound([f1.part, f7.part, f13.part, f16.part, f17_1.part, f19.part, f21.part, f23.part, f26.part, f29.part, f31_1.part])
